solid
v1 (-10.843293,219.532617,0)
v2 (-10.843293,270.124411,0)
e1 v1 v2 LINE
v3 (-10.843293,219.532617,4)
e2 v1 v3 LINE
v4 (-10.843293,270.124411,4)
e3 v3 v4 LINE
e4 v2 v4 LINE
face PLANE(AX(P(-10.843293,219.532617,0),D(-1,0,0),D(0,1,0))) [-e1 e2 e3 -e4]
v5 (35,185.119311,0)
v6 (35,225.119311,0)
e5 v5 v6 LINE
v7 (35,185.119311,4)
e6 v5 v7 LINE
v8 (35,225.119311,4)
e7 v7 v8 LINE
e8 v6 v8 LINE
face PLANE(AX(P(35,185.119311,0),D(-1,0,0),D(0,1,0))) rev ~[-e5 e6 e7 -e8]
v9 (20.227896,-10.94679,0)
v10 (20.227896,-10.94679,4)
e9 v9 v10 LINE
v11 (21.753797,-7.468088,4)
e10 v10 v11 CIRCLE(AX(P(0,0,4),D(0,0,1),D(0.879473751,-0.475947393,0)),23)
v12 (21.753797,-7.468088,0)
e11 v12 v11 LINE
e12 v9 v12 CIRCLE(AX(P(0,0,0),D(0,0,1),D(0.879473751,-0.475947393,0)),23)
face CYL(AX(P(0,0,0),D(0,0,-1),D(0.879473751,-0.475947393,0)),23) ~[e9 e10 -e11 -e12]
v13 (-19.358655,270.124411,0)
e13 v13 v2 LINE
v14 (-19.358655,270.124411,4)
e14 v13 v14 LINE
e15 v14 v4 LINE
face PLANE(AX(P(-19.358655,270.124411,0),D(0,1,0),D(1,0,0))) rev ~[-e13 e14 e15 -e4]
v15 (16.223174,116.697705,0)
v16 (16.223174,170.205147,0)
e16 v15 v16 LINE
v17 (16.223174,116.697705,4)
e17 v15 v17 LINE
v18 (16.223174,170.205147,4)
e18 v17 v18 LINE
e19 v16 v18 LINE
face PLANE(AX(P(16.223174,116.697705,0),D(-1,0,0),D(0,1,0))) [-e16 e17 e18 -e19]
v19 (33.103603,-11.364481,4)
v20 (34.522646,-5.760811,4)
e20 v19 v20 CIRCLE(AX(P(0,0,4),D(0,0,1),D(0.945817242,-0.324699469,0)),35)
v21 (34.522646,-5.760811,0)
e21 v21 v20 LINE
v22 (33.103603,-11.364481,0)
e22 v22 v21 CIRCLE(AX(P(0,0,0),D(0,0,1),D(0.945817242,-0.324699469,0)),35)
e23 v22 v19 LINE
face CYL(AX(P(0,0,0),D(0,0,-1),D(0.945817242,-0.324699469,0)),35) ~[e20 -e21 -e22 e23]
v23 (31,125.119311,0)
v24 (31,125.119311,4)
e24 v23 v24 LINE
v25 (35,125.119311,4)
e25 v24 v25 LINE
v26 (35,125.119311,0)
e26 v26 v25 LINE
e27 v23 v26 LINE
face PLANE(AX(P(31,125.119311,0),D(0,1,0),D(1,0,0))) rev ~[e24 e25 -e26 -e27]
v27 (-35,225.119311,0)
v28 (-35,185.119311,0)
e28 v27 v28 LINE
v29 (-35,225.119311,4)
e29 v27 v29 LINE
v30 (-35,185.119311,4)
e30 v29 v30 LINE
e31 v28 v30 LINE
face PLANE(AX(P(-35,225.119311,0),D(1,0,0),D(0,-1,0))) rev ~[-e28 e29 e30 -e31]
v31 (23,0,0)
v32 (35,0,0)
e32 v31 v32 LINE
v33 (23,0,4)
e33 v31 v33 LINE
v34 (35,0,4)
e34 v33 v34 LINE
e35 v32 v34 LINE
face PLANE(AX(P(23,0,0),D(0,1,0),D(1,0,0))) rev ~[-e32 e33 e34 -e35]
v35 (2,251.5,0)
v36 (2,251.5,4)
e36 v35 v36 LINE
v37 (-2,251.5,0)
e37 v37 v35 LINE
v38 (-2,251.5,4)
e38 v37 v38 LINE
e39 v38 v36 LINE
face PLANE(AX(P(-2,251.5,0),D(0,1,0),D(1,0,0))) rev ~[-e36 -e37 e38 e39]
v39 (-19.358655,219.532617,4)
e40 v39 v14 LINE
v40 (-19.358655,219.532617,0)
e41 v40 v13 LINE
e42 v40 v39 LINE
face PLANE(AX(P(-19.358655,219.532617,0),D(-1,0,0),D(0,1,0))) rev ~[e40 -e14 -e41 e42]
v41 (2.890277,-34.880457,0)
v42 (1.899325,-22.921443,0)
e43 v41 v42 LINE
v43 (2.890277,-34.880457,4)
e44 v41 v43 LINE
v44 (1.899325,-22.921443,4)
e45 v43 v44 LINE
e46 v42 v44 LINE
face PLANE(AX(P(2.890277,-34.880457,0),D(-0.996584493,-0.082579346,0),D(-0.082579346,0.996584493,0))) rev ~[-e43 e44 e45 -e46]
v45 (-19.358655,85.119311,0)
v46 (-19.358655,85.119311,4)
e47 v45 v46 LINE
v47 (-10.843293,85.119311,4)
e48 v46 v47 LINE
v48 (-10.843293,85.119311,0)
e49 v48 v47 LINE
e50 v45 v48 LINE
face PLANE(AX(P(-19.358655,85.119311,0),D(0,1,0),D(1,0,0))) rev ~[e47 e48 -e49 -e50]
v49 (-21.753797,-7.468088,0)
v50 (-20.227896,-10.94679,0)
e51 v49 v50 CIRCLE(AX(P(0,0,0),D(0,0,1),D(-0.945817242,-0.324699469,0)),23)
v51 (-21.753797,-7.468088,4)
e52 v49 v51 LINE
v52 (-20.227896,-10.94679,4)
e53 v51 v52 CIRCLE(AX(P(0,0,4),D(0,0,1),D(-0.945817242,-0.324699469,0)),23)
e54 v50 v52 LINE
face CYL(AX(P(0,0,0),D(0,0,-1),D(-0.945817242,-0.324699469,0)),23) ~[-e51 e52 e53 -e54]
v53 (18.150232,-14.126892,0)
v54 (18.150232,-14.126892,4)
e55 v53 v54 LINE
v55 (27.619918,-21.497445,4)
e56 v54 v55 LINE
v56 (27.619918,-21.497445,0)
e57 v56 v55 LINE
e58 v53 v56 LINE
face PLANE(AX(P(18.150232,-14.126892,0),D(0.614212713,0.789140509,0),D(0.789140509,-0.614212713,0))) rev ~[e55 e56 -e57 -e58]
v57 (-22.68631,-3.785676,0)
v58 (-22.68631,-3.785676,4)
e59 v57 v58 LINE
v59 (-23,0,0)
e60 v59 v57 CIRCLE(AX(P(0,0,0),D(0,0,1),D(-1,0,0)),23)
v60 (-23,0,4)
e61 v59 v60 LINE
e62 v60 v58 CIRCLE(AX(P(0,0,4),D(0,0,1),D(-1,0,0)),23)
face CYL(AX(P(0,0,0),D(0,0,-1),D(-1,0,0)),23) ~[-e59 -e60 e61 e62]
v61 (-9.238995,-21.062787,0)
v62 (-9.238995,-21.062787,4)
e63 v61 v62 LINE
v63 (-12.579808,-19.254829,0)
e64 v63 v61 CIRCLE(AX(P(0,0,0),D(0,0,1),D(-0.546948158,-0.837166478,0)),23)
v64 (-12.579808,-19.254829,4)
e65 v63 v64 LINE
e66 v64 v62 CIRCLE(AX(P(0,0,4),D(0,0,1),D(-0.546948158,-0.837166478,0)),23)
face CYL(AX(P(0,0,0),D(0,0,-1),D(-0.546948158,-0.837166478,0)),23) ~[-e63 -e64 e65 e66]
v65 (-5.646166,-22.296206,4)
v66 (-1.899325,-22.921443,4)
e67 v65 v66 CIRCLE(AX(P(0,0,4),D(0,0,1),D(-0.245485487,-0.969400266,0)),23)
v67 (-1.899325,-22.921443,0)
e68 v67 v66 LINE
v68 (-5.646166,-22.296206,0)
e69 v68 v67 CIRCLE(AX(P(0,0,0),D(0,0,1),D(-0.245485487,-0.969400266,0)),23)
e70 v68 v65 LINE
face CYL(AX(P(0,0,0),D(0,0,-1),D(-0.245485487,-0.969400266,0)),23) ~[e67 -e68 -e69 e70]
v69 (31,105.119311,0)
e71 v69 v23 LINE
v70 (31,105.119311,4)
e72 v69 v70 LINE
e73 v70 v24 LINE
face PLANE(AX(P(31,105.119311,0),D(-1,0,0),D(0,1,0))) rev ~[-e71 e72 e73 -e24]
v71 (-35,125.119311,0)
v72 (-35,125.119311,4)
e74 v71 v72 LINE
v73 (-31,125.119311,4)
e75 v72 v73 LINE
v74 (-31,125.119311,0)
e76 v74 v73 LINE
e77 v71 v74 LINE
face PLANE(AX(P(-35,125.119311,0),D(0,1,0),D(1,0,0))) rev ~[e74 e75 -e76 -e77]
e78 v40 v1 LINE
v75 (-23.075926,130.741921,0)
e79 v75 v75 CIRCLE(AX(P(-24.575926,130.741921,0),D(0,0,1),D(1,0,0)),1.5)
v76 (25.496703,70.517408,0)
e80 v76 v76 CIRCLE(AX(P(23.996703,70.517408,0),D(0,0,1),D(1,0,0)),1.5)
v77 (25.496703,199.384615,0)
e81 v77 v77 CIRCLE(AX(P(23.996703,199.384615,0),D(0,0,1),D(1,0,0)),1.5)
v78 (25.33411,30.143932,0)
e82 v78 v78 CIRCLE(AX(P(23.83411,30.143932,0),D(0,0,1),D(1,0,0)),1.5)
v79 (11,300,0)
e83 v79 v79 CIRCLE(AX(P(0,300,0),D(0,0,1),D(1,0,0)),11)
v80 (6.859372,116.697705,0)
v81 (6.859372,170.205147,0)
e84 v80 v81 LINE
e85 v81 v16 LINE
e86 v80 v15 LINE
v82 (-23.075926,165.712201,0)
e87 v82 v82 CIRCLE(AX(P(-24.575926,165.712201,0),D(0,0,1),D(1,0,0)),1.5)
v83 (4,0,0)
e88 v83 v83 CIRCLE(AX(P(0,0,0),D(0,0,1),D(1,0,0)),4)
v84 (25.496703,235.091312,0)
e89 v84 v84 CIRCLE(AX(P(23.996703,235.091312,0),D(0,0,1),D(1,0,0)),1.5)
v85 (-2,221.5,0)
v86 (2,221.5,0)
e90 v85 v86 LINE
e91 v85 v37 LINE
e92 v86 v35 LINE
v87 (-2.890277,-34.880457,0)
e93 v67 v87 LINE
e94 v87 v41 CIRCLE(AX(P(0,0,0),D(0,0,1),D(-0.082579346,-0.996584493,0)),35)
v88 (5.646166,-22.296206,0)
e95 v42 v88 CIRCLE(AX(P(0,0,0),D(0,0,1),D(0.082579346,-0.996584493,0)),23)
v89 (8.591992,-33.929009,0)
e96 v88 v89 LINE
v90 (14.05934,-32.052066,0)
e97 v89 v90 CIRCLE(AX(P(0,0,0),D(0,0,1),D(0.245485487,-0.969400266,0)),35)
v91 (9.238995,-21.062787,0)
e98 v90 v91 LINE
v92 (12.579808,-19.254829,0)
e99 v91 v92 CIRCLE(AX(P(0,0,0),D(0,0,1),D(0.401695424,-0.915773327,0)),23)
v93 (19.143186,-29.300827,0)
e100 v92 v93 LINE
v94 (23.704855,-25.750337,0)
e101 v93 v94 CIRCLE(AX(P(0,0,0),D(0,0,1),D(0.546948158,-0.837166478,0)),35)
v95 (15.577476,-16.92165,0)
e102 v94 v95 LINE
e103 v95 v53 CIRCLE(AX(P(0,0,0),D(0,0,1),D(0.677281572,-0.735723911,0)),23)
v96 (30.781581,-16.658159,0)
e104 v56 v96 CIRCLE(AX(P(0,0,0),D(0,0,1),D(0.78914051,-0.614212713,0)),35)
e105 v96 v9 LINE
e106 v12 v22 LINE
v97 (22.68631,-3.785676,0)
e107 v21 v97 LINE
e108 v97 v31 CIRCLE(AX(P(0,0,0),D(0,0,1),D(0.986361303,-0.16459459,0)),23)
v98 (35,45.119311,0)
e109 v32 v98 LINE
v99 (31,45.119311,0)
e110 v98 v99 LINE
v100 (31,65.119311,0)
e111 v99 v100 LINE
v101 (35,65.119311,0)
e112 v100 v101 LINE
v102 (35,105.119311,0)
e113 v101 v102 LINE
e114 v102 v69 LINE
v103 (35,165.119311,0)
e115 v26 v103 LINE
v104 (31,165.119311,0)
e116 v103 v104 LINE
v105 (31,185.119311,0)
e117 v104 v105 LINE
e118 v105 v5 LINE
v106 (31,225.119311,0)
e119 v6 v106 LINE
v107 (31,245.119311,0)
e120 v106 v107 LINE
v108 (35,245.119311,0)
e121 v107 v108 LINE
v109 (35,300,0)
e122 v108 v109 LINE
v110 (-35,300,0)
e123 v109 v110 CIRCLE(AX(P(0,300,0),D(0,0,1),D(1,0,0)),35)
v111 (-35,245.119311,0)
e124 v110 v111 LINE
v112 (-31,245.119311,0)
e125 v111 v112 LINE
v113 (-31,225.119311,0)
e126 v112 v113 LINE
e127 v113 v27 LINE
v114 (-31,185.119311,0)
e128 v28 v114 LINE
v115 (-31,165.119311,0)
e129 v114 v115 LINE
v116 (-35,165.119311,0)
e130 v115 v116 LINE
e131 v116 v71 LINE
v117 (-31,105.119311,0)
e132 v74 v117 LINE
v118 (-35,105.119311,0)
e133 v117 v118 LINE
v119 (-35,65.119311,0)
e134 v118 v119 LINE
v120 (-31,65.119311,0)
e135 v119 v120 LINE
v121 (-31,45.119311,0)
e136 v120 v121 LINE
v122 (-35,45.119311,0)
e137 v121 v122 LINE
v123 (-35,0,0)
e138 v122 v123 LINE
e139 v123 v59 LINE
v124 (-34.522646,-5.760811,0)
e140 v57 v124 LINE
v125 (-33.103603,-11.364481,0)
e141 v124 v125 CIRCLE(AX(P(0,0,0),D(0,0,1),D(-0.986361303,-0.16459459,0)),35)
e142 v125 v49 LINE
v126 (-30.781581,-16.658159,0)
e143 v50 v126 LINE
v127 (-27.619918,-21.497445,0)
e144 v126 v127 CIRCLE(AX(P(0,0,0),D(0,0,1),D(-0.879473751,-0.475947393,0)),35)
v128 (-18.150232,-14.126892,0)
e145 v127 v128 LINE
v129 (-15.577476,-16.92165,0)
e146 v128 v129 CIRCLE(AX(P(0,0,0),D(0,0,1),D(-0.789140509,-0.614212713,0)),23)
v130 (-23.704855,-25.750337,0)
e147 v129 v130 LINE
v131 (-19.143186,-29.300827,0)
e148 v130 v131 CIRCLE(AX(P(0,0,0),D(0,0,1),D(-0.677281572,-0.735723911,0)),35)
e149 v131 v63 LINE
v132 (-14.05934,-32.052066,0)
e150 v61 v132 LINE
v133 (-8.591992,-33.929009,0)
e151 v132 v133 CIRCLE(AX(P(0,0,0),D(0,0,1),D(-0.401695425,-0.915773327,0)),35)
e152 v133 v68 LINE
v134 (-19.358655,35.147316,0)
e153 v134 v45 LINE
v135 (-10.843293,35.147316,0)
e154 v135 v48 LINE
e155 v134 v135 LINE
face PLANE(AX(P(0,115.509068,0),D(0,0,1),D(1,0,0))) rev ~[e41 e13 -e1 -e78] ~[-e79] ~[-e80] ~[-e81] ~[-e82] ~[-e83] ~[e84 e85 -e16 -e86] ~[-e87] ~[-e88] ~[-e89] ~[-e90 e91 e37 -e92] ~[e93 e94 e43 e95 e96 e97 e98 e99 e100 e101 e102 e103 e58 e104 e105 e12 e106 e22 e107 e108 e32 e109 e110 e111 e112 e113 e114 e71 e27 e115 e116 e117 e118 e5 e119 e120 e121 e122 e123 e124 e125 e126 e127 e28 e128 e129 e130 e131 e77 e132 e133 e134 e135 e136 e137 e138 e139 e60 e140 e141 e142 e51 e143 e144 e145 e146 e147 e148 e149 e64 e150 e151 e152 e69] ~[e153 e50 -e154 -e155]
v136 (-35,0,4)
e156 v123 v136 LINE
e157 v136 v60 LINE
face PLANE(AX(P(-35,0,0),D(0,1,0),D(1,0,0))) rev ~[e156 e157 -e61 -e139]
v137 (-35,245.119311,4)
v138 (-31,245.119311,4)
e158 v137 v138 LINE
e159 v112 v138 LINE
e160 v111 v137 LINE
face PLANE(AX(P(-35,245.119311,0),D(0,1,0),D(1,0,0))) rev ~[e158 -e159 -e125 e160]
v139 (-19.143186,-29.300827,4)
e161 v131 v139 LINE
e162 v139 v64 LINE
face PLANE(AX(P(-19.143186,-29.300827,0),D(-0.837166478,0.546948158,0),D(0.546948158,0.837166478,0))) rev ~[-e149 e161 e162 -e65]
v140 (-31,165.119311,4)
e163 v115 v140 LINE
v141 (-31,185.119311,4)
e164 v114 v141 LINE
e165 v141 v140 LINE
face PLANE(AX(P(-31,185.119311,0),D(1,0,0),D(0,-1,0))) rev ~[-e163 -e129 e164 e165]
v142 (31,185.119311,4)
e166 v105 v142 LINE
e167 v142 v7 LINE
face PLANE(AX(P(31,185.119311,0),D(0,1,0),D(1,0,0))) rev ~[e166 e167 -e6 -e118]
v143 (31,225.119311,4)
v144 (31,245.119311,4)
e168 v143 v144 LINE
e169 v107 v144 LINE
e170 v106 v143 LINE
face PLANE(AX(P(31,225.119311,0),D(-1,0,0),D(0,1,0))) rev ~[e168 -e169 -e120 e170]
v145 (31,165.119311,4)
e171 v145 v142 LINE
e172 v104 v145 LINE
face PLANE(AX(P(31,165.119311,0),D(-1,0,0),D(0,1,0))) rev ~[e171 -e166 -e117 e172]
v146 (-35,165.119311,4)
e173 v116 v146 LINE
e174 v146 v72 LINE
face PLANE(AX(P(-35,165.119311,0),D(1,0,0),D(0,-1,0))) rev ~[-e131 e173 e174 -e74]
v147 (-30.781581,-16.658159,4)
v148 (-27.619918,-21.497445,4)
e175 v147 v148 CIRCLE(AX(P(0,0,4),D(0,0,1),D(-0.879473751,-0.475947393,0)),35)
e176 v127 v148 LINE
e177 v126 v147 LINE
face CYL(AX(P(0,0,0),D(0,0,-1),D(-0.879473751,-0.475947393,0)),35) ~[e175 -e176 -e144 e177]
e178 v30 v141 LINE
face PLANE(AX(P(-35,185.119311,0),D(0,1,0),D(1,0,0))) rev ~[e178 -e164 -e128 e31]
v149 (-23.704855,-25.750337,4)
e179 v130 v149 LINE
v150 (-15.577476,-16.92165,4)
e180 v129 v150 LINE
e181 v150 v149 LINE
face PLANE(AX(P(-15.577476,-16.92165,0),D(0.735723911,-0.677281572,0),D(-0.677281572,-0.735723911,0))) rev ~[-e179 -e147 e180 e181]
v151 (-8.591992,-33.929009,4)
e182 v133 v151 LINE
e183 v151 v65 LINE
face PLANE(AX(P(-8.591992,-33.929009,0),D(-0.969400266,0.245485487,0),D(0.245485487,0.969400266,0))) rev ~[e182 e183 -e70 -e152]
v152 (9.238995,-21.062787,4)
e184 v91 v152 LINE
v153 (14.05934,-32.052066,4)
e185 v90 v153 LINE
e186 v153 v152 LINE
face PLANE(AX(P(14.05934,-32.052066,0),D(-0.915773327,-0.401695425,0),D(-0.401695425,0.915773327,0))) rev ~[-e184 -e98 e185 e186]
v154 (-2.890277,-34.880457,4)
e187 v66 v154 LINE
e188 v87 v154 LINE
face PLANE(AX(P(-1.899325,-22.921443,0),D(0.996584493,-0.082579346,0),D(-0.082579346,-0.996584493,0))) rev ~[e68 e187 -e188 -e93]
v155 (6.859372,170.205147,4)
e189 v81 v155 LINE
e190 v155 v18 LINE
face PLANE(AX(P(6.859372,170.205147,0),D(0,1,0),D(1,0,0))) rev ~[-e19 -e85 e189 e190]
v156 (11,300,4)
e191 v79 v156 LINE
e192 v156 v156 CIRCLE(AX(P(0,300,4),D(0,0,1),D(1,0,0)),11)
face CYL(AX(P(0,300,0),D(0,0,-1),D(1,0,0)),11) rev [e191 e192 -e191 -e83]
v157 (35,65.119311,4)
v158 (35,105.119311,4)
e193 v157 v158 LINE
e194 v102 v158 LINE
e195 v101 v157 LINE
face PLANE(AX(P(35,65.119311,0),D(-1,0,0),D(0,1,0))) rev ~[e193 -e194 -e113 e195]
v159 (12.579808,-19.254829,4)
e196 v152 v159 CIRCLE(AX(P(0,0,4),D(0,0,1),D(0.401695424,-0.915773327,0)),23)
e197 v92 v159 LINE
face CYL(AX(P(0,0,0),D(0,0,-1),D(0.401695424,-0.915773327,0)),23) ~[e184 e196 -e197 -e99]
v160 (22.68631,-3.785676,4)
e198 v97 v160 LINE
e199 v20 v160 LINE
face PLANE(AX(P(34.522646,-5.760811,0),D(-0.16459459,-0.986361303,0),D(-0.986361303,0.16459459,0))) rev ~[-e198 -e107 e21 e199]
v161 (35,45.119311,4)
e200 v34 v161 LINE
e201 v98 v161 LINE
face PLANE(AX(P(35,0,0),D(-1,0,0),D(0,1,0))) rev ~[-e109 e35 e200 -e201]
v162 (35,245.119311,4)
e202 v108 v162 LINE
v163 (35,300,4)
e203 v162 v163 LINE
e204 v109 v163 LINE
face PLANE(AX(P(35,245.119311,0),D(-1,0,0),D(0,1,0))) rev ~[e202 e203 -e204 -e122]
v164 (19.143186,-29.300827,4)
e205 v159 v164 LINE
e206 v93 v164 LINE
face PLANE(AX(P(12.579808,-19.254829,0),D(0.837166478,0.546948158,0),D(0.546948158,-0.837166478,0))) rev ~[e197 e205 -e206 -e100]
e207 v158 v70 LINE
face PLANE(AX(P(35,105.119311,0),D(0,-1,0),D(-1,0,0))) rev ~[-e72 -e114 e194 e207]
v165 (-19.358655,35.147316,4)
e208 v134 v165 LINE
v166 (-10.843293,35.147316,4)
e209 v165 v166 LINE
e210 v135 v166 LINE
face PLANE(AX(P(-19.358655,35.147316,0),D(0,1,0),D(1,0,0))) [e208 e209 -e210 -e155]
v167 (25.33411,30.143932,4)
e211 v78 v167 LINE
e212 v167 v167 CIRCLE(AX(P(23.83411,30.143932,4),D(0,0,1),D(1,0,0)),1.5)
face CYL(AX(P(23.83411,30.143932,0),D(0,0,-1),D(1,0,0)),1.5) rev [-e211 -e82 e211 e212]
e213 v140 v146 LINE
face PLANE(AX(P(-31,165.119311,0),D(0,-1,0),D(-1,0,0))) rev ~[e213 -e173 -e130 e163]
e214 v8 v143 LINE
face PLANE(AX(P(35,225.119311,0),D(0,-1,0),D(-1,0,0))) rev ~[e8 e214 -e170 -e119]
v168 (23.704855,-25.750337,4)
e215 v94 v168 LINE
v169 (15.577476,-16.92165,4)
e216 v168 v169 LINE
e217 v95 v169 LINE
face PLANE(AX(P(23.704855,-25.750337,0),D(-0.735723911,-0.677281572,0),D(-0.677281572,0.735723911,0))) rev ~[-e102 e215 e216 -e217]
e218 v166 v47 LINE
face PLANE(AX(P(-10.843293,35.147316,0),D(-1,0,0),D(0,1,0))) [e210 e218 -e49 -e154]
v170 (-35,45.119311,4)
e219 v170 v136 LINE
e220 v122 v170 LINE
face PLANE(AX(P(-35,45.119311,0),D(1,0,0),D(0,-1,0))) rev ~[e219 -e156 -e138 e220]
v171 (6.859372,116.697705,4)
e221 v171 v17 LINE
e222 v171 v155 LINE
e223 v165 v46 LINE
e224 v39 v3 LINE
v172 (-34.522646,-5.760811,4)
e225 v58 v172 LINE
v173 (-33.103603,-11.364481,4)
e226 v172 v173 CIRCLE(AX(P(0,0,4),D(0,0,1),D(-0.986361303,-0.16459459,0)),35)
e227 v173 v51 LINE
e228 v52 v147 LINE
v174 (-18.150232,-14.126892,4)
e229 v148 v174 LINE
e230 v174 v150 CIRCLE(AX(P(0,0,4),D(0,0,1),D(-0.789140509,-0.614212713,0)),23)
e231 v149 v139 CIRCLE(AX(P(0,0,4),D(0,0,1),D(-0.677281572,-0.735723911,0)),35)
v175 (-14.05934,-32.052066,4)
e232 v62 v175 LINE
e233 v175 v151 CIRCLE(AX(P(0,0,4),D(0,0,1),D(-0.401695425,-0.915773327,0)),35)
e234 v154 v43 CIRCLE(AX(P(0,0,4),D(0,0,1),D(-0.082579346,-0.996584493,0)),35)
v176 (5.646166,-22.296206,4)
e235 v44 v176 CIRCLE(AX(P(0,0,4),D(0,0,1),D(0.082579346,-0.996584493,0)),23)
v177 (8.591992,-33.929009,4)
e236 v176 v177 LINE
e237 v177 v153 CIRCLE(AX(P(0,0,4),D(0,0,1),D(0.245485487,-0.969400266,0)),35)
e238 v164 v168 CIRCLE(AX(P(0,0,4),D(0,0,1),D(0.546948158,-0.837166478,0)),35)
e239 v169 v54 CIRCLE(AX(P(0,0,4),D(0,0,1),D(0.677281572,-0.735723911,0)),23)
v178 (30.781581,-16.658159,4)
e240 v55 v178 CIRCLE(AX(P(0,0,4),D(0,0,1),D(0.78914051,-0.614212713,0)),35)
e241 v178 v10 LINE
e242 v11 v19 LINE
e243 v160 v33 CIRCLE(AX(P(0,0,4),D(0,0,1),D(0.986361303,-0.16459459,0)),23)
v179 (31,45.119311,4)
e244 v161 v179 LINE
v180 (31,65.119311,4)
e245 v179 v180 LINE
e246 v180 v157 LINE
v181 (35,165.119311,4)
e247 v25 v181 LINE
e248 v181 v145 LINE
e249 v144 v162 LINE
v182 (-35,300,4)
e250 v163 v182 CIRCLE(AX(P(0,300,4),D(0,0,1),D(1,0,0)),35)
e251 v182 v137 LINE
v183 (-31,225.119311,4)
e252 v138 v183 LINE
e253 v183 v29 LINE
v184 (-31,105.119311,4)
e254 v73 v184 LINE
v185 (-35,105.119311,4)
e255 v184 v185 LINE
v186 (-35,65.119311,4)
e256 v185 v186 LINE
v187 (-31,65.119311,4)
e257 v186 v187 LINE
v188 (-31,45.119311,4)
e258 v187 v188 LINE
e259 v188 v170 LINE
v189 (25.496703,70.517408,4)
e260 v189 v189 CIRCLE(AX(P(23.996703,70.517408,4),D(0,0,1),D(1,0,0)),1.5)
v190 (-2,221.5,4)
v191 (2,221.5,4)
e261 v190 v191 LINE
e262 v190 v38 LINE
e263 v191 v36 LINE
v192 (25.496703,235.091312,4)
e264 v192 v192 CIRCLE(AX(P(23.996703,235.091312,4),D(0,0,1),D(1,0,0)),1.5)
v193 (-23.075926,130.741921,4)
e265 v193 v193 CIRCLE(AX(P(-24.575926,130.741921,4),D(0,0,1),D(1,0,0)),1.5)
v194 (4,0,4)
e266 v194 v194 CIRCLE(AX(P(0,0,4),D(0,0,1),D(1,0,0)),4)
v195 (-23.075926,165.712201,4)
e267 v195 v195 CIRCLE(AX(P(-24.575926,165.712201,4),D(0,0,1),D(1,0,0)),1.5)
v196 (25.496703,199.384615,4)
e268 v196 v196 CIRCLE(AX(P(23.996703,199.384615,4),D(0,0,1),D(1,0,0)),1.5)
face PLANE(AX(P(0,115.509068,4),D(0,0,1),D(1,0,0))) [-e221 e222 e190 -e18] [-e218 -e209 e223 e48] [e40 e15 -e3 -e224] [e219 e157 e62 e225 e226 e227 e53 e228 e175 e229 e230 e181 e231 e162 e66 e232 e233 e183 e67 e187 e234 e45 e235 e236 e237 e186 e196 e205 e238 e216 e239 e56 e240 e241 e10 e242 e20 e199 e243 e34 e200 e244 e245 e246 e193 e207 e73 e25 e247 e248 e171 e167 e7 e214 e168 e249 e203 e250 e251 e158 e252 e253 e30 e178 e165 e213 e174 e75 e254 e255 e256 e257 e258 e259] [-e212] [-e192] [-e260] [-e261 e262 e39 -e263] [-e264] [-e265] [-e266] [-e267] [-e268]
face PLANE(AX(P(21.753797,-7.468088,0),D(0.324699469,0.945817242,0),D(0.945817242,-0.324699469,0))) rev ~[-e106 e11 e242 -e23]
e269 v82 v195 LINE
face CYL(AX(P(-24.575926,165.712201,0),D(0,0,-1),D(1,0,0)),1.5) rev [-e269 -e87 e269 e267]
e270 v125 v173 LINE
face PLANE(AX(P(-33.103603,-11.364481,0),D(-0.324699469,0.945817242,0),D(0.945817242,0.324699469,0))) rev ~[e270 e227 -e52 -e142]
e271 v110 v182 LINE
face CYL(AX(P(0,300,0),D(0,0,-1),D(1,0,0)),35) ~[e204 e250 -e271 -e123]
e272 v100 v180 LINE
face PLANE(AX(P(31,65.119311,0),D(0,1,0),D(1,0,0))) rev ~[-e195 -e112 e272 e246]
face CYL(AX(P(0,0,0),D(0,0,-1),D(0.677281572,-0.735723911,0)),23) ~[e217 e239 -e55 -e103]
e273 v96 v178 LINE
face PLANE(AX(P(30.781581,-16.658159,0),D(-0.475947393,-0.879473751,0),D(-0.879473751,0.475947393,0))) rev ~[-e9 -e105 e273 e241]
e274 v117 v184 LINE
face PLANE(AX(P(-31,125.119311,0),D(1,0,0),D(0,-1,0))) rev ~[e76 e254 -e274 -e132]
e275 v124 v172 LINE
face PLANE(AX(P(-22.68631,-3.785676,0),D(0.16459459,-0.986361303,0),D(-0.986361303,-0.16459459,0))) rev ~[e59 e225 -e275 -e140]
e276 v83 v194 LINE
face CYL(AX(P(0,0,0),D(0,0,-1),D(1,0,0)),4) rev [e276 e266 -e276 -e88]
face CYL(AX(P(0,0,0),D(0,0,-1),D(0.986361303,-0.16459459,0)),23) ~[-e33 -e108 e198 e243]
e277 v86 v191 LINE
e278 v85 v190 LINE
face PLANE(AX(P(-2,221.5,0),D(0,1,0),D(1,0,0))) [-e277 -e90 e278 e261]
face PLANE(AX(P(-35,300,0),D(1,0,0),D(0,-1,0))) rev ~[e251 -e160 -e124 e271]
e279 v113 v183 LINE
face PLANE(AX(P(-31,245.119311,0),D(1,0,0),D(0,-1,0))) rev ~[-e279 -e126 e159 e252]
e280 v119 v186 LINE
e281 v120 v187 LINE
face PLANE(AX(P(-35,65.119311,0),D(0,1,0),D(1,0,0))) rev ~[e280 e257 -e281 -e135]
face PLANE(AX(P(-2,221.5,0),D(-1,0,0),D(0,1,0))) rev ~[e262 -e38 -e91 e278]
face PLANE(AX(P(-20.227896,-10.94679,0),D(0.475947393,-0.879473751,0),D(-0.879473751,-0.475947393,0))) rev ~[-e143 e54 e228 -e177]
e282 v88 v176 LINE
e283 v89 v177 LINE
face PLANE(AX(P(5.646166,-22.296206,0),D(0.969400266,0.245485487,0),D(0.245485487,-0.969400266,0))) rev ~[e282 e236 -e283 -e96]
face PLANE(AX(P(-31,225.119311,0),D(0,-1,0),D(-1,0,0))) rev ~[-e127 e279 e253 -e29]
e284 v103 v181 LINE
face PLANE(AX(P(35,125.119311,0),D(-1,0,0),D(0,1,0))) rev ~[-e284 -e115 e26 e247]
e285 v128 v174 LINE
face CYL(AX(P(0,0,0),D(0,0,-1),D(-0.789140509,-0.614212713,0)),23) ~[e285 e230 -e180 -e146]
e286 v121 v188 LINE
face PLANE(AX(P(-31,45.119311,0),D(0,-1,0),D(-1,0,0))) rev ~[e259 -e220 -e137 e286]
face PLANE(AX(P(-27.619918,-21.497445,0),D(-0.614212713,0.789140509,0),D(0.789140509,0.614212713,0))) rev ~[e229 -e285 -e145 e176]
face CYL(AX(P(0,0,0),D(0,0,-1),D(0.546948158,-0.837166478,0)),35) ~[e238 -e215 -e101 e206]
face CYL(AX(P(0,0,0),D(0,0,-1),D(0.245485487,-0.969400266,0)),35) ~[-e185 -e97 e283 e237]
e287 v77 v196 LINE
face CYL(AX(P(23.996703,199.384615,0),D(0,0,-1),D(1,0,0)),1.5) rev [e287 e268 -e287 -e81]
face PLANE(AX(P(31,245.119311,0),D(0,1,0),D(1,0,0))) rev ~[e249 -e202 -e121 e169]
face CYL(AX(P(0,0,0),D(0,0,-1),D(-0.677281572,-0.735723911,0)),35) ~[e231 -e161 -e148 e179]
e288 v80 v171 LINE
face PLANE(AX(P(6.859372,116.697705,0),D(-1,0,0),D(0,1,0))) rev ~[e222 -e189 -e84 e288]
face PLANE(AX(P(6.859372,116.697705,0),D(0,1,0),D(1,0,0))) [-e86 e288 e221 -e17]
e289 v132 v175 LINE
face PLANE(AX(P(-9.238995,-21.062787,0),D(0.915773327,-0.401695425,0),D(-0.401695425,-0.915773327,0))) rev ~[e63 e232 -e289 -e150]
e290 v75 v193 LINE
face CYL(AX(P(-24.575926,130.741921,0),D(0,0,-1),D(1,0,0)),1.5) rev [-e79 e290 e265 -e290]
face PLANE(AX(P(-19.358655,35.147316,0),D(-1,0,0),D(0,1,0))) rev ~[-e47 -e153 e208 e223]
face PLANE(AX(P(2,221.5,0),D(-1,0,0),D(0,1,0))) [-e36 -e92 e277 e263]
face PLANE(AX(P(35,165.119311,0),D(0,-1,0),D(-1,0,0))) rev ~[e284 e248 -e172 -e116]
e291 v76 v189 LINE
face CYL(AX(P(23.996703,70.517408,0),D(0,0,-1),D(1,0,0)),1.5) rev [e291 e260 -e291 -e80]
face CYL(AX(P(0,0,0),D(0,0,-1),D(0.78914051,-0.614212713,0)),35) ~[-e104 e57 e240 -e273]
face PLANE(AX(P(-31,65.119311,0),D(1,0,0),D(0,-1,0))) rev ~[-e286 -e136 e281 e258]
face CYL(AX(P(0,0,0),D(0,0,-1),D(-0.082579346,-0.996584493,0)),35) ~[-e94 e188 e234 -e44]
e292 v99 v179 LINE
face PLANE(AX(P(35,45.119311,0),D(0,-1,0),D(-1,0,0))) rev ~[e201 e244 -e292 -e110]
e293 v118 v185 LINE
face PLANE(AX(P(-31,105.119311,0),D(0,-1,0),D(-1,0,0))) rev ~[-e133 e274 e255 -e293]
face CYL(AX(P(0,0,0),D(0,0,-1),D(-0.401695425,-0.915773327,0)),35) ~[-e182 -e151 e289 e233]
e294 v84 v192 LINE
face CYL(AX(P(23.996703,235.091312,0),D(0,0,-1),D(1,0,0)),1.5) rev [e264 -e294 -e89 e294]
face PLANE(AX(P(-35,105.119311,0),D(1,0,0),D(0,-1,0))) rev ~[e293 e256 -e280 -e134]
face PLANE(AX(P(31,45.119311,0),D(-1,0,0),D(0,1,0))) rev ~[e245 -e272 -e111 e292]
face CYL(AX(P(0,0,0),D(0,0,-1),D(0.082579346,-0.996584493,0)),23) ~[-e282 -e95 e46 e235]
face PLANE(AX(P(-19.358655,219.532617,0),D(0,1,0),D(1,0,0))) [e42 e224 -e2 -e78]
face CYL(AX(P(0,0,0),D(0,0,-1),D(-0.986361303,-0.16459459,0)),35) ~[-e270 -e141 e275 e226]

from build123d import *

# Parameters (mm, degrees)
SKETCH1_R           = 4
SKETCH1_R_2         = 11
SKETCH1_R_3         = 1.5
SKETCH1_W           = 4
SKETCH1_H           = 30
SKETCH1_W_2         = 8.515362535
SKETCH1_H_2         = 50.591793773
SKETCH1_W_3         = 9.363802293
SKETCH1_H_3         = 53.507441676
SKETCH1_H_4         = 49.971994441
BOSS_EXTRUDE1_DEPTH = 4


with BuildPart() as part:
    # Sketch1 → Boss-Extrude1 (new body)
    with BuildSketch(Plane.XY):
        with BuildLine():
            Line((-35, 300), (-35, 245.119310596))
            Line((-35, 245.119310596), (-31, 245.119310596))
            Line((-31, 245.119310596), (-31, 225.119310596))
            Line((-31, 225.119310596), (-35, 225.119310596))
            Line((-35, 225.119310596), (-35, 185.119310596))
            Line((-35, 185.119310596), (-31, 185.119310596))
            Line((-31, 185.119310596), (-31, 165.119310596))
            Line((-31, 165.119310596), (-35, 165.119310596))
            Line((-35, 165.119310596), (-35, 125.119310596))
            Line((-35, 125.119310596), (-31, 125.119310596))
            Line((-31, 125.119310596), (-31, 105.119310596))
            Line((-31, 105.119310596), (-35, 105.119310596))
            Line((-35, 105.119310596), (-35, 65.119310596))
            Line((-35, 65.119310596), (-31, 65.119310596))
            Line((-31, 65.119310596), (-31, 45.119310596))
            Line((-31, 45.119310596), (-35, 45.119310596))
            Line((-35, 45.119310596), (-35, 0))
            Line((-35, 0), (-23, 0))
            ThreePointArc((-23, 0), (-22.921443339, -1.899324946), (-22.686309978, -3.785675576))
            Line((-22.686309978, -3.785675576), (-34.522645619, -5.76081066))
            ThreePointArc((-34.522645619, -5.76081066), (-33.929009308, -8.59199205), (-33.10360346, -11.364481422))
            Line((-33.10360346, -11.364481422), (-21.753796559, -7.468087792))
            ThreePointArc((-21.753796559, -7.468087792), (-21.062786513, -9.238994767), (-20.227896278, -10.94679004))
            Line((-20.227896278, -10.94679004), (-30.781581292, -16.658158756))
            ThreePointArc((-30.781581292, -16.658158756), (-29.300826739, -19.143185534), (-27.619917829, -21.497444944))
            Line((-27.619917829, -21.497444944), (-18.150231716, -14.126892392))
            ThreePointArc((-18.150231716, -14.126892392), (-16.921649945, -15.577476147), (-15.577476147, -16.921649945))
            Line((-15.577476147, -16.921649945), (-23.704855007, -25.750336874))
            ThreePointArc((-23.704855007, -25.750336874), (-21.497444944, -27.619917829), (-19.143185534, -29.300826739))
            Line((-19.143185534, -29.300826739), (-12.579807637, -19.254829))
            ThreePointArc((-12.579807637, -19.254829), (-10.94679004, -20.227896278), (-9.238994767, -21.062786513))
            Line((-9.238994767, -21.062786513), (-14.059339863, -32.052066433))
            ThreePointArc((-14.059339863, -32.052066433), (-11.364481422, -33.10360346), (-8.59199205, -33.929009308))
            Line((-8.59199205, -33.929009308), (-5.646166204, -22.296206117))
            ThreePointArc((-5.646166204, -22.296206117), (-3.785675576, -22.686309978), (-1.899324946, -22.921443339))
            Line((-1.899324946, -22.921443339), (-2.890277092, -34.880457255))
            ThreePointArc((-2.890277092, -34.880457255), (0, -35), (2.890277092, -34.880457255))
            Line((2.890277092, -34.880457255), (1.899324946, -22.921443339))
            ThreePointArc((1.899324946, -22.921443339), (3.785675576, -22.686309978), (5.646166204, -22.296206117))
            Line((5.646166204, -22.296206117), (8.59199205, -33.929009308))
            ThreePointArc((8.59199205, -33.929009308), (11.364481422, -33.10360346), (14.059339863, -32.052066433))
            Line((14.059339863, -32.052066433), (9.238994767, -21.062786513))
            ThreePointArc((9.238994767, -21.062786513), (10.94679004, -20.227896278), (12.579807637, -19.254829))
            Line((12.579807637, -19.254829), (19.143185534, -29.300826739))
            ThreePointArc((19.143185534, -29.300826739), (21.497444944, -27.619917829), (23.704855007, -25.750336874))
            Line((23.704855007, -25.750336874), (15.577476147, -16.921649945))
            ThreePointArc((15.577476147, -16.921649945), (16.921649945, -15.577476147), (18.150231716, -14.126892392))
            Line((18.150231716, -14.126892392), (27.619917829, -21.497444944))
            ThreePointArc((27.619917829, -21.497444944), (29.300826739, -19.143185534), (30.781581292, -16.658158756))
            Line((30.781581292, -16.658158756), (20.227896278, -10.94679004))
            ThreePointArc((20.227896278, -10.94679004), (21.062786513, -9.238994767), (21.753796559, -7.468087792))
            Line((21.753796559, -7.468087792), (33.10360346, -11.364481422))
            ThreePointArc((33.10360346, -11.364481422), (33.929009308, -8.59199205), (34.522645619, -5.76081066))
            Line((34.522645619, -5.76081066), (22.686309978, -3.785675576))
            ThreePointArc((22.686309978, -3.785675576), (22.921443339, -1.899324946), (23, 0))
            Line((23, 0), (35, 0))
            Line((35, 0), (35, 45.119310596))
            Line((35, 45.119310596), (31, 45.119310596))
            Line((31, 45.119310596), (31, 65.119310596))
            Line((31, 65.119310596), (35, 65.119310596))
            Line((35, 65.119310596), (35, 105.119310596))
            Line((35, 105.119310596), (31, 105.119310596))
            Line((31, 105.119310596), (31, 125.119310596))
            Line((31, 125.119310596), (35, 125.119310596))
            Line((35, 125.119310596), (35, 165.119310596))
            Line((35, 165.119310596), (31, 165.119310596))
            Line((31, 165.119310596), (31, 185.119310596))
            Line((31, 185.119310596), (35, 185.119310596))
            Line((35, 185.119310596), (35, 225.119310596))
            Line((35, 225.119310596), (31, 225.119310596))
            Line((31, 225.119310596), (31, 245.119310596))
            Line((31, 245.119310596), (35, 245.119310596))
            Line((35, 245.119310596), (35, 300))
            ThreePointArc((35, 300), (0, 335), (-35, 300))
        make_face()
        Circle(SKETCH1_R, mode=Mode.SUBTRACT)
        with Locations((0, 300)):
            Circle(SKETCH1_R_2, mode=Mode.SUBTRACT)
        with Locations((23.996702537, 235.091311609)):
            Circle(SKETCH1_R_3, mode=Mode.SUBTRACT)
        with Locations((-24.57592592, 165.712200906)):
            Circle(SKETCH1_R_3, mode=Mode.SUBTRACT)
        with Locations((23.996702545, 199.384614522)):
            Circle(SKETCH1_R_3, mode=Mode.SUBTRACT)
        with Locations((-24.57592592, 130.741920595)):
            Circle(SKETCH1_R_3, mode=Mode.SUBTRACT)
        with Locations((23.996702545, 70.517408204)):
            Circle(SKETCH1_R_3, mode=Mode.SUBTRACT)
        with Locations((23.834109516, 30.143932105)):
            Circle(SKETCH1_R_3, mode=Mode.SUBTRACT)
        with Locations((0, 236.5)):
            Rectangle(SKETCH1_W, SKETCH1_H, mode=Mode.SUBTRACT)
        with Locations((-15.100973899, 244.828514205)):
            Rectangle(SKETCH1_W_2, SKETCH1_H_2, mode=Mode.SUBTRACT)
        with Locations((11.541273102, 143.451426266)):
            Rectangle(SKETCH1_W_3, SKETCH1_H_3, mode=Mode.SUBTRACT)
        with Locations((-15.100973899, 60.133313376)):
            Rectangle(SKETCH1_W_2, SKETCH1_H_4, mode=Mode.SUBTRACT)
    extrude(amount=BOSS_EXTRUDE1_DEPTH)


solid = part.part
